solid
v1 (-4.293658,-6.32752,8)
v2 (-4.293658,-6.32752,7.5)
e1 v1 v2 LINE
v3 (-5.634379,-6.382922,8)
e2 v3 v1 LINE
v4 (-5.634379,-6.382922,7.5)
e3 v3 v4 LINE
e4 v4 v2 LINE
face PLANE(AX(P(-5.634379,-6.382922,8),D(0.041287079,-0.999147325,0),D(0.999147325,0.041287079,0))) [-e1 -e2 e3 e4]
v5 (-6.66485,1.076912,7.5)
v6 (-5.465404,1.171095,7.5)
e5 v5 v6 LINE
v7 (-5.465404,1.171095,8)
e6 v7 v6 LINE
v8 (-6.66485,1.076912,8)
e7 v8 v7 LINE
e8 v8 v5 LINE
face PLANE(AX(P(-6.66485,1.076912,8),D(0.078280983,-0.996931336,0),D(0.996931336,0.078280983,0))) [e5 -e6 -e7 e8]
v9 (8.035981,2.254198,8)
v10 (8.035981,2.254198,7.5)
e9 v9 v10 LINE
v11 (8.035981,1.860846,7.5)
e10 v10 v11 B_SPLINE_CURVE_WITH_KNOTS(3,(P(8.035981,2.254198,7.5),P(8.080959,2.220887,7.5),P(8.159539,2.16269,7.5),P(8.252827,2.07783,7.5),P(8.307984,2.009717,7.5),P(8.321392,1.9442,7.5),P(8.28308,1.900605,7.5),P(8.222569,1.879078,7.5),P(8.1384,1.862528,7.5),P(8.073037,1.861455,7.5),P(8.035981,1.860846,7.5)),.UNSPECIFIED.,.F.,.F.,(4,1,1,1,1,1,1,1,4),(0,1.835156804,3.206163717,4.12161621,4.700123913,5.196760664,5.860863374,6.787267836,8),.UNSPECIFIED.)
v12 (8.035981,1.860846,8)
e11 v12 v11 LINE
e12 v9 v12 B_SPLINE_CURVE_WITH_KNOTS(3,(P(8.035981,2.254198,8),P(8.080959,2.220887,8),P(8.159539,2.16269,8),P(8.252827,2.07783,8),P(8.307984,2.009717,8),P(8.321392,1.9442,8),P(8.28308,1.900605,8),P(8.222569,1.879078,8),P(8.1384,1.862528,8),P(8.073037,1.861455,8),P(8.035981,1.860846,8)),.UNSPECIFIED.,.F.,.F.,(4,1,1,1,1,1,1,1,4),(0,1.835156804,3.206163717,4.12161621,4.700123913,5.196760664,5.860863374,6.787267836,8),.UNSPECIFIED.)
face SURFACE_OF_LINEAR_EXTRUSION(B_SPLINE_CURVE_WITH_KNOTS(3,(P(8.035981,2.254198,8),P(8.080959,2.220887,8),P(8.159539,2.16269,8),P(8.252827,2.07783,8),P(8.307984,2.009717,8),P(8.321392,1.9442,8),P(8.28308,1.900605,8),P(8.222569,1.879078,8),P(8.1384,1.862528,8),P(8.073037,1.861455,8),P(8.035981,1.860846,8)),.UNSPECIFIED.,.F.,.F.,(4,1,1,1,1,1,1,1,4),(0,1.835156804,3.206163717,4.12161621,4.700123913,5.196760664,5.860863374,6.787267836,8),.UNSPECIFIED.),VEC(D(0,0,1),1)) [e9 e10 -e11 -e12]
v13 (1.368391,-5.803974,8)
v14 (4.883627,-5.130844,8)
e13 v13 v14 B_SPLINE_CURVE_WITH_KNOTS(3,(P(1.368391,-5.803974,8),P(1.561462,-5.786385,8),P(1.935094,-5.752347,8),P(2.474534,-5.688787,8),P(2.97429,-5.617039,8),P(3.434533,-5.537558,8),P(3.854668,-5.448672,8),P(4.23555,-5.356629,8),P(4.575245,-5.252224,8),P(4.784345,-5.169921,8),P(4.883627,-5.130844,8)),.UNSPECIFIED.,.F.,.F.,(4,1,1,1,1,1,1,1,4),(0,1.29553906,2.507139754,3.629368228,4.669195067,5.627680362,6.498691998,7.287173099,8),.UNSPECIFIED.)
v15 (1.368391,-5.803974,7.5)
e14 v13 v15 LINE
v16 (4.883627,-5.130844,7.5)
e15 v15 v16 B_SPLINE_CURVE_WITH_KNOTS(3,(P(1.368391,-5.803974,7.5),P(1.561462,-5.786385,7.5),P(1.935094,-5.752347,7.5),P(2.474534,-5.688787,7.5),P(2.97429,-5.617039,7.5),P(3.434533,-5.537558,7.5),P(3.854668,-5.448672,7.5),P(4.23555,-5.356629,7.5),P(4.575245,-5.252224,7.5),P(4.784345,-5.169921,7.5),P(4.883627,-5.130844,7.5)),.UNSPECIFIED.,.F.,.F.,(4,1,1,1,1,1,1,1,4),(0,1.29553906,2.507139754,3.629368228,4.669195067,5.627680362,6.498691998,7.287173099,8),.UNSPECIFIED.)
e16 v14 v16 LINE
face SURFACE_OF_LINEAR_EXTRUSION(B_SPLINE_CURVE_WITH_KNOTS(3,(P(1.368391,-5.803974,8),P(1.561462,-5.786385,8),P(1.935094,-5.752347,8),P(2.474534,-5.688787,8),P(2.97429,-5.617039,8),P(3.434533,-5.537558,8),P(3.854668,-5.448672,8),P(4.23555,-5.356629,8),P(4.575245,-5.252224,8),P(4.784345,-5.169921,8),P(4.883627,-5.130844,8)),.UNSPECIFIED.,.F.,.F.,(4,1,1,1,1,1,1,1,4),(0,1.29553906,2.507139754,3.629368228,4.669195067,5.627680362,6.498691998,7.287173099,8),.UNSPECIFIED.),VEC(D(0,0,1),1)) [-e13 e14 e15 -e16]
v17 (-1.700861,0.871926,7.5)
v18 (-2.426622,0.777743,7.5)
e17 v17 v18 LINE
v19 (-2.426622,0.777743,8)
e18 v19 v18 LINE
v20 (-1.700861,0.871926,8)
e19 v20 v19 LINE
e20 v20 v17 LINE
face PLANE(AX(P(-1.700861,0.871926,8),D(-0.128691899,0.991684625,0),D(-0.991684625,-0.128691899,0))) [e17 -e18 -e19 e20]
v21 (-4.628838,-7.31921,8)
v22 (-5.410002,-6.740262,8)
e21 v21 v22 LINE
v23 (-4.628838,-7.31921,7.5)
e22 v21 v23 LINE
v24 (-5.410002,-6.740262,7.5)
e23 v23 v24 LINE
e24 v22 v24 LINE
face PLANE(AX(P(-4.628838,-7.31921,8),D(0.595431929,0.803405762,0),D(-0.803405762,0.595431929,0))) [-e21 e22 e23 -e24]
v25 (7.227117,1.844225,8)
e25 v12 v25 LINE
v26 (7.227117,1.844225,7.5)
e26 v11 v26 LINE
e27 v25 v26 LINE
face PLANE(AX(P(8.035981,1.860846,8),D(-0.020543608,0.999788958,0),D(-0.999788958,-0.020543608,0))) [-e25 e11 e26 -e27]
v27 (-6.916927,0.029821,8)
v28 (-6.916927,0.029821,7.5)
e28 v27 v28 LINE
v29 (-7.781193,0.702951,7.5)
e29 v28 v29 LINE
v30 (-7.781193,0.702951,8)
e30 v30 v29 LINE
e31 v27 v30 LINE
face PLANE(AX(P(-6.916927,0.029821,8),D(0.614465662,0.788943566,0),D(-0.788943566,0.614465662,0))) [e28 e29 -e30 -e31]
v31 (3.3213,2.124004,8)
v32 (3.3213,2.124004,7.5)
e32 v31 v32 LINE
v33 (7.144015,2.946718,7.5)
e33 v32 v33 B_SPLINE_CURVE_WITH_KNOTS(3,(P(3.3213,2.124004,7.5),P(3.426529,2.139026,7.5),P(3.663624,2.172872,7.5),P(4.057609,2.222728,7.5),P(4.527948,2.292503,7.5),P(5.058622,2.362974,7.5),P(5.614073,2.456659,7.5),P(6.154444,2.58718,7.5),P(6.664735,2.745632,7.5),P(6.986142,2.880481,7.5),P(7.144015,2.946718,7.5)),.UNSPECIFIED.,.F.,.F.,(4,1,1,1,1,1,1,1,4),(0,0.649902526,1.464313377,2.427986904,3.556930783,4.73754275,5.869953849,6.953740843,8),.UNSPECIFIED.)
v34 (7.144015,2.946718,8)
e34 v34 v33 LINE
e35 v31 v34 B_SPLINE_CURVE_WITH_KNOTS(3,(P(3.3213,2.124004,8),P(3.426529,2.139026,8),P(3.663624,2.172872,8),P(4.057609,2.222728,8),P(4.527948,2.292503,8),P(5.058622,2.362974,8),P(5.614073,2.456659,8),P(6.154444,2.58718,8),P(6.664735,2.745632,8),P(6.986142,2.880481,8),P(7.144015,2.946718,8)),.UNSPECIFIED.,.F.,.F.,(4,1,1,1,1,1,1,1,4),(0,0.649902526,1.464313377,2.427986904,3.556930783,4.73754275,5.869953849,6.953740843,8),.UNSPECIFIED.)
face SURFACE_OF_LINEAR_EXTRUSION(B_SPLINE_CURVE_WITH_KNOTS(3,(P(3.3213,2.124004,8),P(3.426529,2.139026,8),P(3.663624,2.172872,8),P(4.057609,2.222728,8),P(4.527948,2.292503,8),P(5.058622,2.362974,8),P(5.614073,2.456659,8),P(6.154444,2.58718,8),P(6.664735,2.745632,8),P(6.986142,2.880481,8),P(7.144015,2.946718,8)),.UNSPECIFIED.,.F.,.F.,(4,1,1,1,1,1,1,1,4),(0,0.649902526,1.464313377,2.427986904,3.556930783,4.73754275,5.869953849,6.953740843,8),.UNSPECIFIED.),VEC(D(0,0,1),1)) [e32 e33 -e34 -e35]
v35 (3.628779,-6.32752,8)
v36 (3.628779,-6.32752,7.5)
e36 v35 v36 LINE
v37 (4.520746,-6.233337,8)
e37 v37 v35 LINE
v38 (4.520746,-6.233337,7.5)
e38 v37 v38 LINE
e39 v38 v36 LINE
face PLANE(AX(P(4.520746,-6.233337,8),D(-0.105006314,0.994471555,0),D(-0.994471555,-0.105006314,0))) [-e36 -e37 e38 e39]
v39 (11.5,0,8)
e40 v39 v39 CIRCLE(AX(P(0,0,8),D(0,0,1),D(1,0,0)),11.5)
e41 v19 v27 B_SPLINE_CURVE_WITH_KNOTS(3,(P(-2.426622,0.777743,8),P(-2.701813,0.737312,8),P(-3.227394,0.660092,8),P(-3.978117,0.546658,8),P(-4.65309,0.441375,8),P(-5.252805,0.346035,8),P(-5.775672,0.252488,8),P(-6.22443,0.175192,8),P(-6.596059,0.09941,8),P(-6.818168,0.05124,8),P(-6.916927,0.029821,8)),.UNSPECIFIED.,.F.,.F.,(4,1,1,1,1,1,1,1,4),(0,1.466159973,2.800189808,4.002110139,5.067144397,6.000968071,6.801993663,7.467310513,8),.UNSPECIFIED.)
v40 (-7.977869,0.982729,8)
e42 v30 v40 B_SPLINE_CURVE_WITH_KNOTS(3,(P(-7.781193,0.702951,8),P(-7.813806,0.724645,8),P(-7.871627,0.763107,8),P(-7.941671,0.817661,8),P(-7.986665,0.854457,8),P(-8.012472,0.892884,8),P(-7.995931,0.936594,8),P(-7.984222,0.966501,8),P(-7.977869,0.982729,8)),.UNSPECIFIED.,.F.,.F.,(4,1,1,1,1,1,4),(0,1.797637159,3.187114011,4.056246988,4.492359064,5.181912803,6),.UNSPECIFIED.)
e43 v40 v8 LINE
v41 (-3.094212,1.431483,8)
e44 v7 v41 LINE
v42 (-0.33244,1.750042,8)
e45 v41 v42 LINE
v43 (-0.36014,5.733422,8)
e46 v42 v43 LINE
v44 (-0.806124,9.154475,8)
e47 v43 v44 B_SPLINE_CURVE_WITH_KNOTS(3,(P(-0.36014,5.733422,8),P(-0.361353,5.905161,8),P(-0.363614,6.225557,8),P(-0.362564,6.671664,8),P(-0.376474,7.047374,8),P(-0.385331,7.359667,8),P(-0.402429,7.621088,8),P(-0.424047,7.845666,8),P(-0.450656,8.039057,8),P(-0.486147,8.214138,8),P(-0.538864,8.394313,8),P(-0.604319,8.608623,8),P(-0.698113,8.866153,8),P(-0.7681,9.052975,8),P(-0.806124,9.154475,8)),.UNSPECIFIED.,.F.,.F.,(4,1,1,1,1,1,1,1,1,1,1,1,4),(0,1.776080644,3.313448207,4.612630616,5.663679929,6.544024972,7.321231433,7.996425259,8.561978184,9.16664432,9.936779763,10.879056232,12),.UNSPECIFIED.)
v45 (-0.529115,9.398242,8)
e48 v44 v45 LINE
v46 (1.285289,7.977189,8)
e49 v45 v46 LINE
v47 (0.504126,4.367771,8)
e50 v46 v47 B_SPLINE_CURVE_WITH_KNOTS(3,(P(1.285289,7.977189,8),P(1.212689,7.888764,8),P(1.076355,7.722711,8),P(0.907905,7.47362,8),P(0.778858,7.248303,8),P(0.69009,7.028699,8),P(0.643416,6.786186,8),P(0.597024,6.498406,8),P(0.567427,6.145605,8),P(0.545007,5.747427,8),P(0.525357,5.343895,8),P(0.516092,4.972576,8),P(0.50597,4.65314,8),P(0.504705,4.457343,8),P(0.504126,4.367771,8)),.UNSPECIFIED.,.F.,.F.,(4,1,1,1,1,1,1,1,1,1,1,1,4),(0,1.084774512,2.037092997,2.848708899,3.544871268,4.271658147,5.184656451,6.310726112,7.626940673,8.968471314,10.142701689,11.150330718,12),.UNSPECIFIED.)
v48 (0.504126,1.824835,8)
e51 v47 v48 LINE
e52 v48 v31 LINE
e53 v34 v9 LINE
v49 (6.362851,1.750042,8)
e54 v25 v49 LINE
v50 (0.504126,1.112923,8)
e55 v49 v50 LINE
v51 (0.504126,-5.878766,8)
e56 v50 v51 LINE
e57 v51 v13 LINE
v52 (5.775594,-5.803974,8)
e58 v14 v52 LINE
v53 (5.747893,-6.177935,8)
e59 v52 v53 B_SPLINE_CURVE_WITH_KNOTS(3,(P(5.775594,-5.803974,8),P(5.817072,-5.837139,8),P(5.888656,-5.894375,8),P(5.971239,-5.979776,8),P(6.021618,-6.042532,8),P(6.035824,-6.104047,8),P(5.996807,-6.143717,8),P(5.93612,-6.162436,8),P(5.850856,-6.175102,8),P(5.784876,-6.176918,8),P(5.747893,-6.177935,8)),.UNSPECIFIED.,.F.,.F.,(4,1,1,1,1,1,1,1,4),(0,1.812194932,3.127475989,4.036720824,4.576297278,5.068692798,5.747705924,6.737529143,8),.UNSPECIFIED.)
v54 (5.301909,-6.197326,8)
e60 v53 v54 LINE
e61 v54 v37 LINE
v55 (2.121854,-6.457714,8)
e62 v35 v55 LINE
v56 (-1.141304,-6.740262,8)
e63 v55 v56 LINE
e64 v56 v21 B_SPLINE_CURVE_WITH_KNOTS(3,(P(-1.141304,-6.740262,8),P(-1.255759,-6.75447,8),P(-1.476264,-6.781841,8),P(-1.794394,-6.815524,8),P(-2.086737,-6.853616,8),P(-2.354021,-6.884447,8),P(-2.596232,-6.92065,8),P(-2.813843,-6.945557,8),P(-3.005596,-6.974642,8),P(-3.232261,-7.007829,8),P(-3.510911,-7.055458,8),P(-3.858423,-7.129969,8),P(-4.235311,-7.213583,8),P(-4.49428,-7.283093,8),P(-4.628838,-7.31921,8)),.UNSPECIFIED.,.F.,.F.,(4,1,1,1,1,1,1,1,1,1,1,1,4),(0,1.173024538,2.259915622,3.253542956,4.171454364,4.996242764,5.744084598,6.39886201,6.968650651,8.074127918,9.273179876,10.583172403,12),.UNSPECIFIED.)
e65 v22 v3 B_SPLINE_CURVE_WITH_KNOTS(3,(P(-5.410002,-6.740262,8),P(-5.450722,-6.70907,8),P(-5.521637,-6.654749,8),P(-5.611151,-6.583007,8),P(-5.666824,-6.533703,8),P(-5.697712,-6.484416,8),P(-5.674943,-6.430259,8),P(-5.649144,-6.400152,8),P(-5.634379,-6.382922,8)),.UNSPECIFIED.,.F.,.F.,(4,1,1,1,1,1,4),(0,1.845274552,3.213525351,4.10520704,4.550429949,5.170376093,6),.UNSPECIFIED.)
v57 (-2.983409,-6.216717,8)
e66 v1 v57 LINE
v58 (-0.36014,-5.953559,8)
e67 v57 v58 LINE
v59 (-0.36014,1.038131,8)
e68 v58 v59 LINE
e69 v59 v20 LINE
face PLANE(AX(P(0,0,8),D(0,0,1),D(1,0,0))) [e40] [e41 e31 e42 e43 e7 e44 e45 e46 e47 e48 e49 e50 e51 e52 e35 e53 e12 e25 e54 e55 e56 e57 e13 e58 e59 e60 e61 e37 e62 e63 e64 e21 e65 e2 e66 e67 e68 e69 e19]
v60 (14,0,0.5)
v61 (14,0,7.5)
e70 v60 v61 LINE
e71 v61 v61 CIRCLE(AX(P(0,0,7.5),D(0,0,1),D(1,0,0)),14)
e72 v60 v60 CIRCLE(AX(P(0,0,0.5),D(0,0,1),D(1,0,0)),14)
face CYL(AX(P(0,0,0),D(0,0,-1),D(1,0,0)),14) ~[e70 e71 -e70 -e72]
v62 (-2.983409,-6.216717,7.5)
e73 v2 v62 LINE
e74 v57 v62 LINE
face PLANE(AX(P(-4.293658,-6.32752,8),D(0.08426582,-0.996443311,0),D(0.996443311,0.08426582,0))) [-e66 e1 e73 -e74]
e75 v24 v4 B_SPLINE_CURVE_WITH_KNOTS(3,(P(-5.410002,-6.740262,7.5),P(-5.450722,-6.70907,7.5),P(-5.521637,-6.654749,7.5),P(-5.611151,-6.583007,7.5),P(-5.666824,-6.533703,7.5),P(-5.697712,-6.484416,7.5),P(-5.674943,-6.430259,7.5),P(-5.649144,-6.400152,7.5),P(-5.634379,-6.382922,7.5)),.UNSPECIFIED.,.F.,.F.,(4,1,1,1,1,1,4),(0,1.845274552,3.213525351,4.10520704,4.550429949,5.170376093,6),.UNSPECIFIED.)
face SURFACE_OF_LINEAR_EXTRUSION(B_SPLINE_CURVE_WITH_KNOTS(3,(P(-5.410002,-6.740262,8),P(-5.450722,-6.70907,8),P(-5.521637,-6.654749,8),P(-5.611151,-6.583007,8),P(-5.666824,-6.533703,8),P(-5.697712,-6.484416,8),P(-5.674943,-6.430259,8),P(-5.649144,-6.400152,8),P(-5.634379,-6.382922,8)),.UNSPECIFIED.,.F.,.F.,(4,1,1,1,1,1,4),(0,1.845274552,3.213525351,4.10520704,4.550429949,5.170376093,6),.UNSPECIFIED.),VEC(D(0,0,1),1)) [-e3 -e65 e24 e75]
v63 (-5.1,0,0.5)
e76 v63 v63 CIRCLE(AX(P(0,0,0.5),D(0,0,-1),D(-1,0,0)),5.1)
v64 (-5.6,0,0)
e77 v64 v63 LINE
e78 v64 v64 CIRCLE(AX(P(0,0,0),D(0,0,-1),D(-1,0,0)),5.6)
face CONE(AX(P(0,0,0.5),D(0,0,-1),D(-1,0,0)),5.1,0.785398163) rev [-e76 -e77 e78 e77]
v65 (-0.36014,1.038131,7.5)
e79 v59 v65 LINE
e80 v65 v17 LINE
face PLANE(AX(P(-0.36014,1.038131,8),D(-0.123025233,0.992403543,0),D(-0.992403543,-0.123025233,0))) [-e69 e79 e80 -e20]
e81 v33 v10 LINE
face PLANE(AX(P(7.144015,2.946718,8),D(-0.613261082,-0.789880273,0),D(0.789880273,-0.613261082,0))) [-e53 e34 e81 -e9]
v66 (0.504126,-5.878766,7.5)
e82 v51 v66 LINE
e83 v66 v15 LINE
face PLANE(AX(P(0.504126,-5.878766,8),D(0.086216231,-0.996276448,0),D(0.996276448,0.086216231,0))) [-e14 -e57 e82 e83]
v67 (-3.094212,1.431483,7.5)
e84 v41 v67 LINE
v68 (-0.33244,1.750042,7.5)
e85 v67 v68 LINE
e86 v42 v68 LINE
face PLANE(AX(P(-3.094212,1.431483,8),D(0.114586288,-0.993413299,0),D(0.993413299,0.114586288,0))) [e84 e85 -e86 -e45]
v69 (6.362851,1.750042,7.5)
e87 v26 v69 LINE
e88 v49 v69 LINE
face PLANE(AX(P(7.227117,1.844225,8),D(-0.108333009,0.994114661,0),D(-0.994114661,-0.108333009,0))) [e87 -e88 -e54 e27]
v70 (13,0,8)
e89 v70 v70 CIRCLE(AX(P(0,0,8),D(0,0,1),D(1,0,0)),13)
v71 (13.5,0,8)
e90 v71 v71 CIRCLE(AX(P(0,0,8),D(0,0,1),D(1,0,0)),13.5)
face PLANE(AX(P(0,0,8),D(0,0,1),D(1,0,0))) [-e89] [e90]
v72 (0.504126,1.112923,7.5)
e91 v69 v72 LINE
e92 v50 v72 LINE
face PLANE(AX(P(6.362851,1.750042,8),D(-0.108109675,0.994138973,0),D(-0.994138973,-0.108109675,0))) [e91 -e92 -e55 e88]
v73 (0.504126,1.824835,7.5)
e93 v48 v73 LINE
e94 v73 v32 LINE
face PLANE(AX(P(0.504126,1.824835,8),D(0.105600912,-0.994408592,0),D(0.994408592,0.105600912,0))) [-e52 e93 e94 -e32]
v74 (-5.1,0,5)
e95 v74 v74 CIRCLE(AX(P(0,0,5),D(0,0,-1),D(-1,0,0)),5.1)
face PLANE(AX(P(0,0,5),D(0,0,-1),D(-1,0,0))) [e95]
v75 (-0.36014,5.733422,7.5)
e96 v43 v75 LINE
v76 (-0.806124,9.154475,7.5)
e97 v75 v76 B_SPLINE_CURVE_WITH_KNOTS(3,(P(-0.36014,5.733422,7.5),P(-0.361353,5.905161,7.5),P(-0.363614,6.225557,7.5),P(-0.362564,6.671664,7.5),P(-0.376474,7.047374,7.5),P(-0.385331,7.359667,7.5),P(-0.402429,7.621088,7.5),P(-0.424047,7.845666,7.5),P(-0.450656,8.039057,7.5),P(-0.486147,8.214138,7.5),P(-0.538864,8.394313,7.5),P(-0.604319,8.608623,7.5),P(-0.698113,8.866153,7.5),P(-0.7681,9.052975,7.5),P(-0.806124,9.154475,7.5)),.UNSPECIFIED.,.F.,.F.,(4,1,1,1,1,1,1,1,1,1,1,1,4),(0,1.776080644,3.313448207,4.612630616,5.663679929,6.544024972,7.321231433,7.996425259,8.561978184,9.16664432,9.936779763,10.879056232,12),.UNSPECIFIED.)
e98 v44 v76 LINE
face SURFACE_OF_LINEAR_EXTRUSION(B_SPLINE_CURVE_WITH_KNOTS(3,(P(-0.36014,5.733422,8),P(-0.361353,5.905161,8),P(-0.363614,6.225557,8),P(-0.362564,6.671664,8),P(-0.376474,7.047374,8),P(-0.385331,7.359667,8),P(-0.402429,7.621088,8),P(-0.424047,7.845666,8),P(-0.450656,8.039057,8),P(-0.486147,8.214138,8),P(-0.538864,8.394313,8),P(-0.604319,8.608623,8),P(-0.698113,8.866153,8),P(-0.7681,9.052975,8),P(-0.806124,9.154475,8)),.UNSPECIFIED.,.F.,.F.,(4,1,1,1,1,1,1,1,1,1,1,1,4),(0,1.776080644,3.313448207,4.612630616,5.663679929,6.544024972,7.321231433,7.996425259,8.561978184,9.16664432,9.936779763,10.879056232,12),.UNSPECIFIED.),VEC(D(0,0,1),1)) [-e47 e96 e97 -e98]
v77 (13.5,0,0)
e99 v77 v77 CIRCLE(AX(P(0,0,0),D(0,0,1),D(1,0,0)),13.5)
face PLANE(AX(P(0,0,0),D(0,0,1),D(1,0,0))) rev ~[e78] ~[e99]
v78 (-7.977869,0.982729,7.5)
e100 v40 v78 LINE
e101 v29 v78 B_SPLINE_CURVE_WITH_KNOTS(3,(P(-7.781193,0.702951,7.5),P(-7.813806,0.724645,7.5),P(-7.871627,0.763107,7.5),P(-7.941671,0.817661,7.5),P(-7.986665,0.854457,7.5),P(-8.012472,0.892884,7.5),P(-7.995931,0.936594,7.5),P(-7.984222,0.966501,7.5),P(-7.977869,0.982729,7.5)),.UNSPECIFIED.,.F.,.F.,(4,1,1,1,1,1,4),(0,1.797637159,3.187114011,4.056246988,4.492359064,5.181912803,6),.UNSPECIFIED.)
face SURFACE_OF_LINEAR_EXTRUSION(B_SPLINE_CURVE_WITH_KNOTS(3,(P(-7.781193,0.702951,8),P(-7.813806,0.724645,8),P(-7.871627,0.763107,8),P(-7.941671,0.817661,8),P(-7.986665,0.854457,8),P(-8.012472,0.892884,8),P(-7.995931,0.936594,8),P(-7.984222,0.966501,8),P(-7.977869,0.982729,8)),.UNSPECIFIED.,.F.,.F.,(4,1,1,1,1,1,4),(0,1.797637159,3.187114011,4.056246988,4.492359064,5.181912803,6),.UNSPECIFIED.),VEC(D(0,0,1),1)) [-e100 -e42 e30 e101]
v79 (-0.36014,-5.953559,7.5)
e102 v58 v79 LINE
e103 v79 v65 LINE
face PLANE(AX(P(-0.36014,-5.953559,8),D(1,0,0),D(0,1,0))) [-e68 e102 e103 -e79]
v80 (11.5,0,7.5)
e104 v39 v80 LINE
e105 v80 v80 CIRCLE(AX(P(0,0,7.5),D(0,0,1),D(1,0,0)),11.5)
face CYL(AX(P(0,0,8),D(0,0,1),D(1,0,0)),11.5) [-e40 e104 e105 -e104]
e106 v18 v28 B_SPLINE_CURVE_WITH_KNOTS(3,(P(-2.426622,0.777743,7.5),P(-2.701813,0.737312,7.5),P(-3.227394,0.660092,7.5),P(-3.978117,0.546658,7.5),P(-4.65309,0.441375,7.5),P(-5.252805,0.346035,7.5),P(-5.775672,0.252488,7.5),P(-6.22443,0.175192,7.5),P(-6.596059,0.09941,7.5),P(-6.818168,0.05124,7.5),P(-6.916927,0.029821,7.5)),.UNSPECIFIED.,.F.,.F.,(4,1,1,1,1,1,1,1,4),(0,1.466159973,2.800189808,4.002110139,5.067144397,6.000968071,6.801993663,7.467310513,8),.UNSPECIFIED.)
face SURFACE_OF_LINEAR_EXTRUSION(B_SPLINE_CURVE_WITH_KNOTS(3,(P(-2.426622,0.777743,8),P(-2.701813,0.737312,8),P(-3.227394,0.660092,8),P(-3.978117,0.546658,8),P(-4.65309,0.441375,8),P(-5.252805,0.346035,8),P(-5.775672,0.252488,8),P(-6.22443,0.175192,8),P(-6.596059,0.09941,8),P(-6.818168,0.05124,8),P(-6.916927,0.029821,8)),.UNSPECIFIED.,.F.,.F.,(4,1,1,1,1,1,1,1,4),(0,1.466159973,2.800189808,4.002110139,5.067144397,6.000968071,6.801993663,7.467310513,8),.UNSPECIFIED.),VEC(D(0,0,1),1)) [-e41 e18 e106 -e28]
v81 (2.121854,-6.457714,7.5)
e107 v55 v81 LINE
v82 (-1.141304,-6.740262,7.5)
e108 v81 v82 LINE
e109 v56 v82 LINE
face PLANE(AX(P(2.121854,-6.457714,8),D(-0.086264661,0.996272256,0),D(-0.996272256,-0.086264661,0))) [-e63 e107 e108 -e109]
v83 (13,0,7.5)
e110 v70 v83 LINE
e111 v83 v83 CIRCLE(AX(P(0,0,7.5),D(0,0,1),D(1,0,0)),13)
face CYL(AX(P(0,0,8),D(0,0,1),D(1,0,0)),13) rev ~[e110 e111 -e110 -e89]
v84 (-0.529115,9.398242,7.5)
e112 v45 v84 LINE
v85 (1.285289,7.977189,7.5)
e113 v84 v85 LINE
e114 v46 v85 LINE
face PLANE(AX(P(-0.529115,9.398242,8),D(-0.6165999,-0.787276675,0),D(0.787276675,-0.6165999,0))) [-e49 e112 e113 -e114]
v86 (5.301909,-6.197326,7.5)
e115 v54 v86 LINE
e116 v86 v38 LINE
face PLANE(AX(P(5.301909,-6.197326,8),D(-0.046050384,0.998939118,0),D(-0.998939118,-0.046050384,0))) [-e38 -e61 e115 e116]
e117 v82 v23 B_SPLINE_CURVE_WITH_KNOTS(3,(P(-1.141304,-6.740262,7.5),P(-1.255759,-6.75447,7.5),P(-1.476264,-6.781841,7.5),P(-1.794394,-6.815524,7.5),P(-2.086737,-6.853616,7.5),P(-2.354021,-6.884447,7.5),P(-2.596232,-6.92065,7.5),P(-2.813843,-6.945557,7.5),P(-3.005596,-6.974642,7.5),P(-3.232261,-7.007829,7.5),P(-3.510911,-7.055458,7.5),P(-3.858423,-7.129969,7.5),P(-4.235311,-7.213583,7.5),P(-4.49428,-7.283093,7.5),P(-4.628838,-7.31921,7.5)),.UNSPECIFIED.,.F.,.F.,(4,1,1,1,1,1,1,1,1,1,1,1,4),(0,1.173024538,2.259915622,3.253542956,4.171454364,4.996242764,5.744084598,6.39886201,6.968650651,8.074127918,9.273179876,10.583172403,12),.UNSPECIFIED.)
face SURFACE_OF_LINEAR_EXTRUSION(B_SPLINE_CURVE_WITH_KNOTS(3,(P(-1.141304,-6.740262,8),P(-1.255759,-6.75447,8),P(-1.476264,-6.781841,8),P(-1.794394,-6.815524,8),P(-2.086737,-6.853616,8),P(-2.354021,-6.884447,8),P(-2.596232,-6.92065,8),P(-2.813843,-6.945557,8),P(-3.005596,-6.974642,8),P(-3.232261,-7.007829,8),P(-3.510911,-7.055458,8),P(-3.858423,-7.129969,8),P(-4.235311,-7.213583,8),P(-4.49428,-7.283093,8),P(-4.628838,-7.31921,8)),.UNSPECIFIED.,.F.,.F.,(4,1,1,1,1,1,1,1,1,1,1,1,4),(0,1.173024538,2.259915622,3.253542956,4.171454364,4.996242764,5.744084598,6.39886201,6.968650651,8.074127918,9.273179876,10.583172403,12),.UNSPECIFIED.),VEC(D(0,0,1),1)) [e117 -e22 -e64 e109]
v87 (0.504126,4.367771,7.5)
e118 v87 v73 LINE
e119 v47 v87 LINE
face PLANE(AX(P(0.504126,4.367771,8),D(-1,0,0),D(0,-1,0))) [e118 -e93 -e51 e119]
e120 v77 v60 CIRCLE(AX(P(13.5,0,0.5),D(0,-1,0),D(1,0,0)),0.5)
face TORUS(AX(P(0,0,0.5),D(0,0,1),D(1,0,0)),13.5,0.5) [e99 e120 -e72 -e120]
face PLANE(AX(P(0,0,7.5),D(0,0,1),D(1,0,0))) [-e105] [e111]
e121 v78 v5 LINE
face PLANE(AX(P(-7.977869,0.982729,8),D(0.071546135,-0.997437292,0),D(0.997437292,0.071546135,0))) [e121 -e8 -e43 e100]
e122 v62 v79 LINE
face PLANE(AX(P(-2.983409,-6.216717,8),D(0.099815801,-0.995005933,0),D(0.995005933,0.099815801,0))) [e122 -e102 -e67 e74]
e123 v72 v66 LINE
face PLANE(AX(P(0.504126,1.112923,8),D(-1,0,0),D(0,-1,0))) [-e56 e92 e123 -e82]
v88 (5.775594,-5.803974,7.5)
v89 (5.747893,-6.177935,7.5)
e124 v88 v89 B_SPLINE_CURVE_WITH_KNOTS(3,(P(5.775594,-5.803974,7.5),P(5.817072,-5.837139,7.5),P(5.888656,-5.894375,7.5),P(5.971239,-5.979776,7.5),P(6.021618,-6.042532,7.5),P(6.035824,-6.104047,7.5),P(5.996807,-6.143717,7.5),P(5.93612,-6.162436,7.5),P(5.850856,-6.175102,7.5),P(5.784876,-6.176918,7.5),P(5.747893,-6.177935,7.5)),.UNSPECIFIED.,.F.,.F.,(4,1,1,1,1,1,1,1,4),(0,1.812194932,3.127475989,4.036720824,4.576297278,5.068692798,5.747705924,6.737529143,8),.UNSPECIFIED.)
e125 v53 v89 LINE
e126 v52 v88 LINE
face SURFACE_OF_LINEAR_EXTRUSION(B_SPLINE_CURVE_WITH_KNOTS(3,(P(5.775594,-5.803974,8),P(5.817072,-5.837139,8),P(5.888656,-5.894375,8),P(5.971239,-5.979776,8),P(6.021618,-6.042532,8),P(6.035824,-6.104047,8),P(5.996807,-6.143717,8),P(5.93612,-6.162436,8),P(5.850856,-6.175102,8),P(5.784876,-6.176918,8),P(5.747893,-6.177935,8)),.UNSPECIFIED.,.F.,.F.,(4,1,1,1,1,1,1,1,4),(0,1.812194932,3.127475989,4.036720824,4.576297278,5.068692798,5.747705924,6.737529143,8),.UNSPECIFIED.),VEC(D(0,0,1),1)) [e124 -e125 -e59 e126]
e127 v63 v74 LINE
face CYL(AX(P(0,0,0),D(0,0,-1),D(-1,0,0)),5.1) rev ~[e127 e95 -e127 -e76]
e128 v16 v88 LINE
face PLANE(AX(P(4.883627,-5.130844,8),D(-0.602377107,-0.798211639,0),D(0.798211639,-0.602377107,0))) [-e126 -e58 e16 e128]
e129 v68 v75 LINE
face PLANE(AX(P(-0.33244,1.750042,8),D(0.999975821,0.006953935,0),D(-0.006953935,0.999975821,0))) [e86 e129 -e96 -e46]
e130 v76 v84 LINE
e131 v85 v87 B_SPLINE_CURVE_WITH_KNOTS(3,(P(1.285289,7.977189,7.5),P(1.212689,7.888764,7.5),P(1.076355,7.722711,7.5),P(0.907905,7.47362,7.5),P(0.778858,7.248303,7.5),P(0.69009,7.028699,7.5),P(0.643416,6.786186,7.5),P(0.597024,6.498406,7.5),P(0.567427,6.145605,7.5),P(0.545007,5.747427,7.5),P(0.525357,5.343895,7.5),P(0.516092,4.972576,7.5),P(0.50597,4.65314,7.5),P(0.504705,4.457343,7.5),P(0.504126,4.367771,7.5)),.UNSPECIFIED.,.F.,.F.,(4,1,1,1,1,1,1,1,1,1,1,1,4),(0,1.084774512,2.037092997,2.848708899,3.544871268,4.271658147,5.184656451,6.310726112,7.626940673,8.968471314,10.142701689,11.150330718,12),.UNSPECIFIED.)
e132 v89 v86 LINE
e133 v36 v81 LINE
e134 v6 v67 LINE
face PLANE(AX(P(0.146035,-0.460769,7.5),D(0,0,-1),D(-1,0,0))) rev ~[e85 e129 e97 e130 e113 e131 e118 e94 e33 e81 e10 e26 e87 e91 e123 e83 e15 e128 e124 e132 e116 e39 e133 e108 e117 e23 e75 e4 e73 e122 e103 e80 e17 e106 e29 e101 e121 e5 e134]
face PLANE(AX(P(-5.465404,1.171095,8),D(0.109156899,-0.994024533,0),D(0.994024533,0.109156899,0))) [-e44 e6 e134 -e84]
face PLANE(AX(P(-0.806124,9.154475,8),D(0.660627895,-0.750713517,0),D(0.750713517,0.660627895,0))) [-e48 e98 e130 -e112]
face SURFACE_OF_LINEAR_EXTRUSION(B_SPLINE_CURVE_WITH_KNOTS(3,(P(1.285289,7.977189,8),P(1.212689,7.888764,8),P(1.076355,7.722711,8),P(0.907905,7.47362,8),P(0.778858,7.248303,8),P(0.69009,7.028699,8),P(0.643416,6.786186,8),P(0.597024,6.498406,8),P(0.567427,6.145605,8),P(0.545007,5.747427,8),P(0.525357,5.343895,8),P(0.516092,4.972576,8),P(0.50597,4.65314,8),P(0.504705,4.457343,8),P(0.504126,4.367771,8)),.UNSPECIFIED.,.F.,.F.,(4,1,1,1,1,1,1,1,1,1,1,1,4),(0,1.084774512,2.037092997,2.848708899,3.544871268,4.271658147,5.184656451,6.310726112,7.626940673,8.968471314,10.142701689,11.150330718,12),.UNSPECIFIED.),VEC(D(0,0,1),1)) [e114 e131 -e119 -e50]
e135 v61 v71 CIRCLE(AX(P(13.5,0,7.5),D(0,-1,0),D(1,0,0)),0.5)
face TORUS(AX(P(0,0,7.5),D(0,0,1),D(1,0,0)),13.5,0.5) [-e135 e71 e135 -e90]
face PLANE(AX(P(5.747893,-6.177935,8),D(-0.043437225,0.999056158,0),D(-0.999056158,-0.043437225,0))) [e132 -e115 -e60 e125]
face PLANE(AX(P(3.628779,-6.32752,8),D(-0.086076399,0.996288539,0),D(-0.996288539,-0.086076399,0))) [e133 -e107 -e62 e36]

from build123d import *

# Parameters (mm, degrees)
SKETCH_1_R          = 14
EXTRUDE_1_DEPTH     = 8
SKETCH_2_R          = 13
SKETCH_2_R_2        = 11.5
CUT_EXTRUDE_1_DEPTH = 0.5
SKETCH_3_R          = 5.1
CUT_EXTRUDE_2_DEPTH = 5
CHAMFER_1_SIZE      = 0.5
FILLET_1_R          = 0.5
CUT_EXTRUDE_3_DEPTH = 0.5


with BuildPart() as part:
    # 草图1 → 凸台-拉伸1 (new body)
    with BuildSketch(Plane.XY):
        Circle(SKETCH_1_R)
    extrude(amount=EXTRUDE_1_DEPTH)

    # 草图2 → 切除-拉伸1 (cut)
    with BuildSketch(Plane.XY.offset(8)):
        Circle(SKETCH_2_R)
        Circle(SKETCH_2_R_2, mode=Mode.SUBTRACT)
    extrude(amount=-CUT_EXTRUDE_1_DEPTH, mode=Mode.SUBTRACT)

    # 草图3 → 切除-拉伸2 (cut)
    with BuildSketch(Plane(origin=(0, 0, 0), x_dir=(-1, 0, 0), z_dir=(0, 0, -1))):
        Circle(SKETCH_3_R)
    extrude(amount=-CUT_EXTRUDE_2_DEPTH, mode=Mode.SUBTRACT)

    # 倒角1
    chamfer_1_edges = [part.edges().sort_by_distance(p)[0] for p in [
        (5.1, 0, 0),
    ]]
    chamfer(chamfer_1_edges, length=CHAMFER_1_SIZE)

    # 圆角1
    fillet_1_edges = [part.edges().sort_by_distance(p)[0] for p in [
        (-14, 0, 0),
        (-14, 0, 8),
    ]]
    fillet(fillet_1_edges, radius=FILLET_1_R)

    # 草图4 → 切除-拉伸3 (cut)
    with BuildSketch(Plane.XY.offset(8)):
        with BuildLine():
            Line((-0.332439592, 1.750042466), (-0.360140423, 5.733421968))
            add(Edge.make_bspline(
                [(-0.360140423, 5.733421968), (-0.361352645, 5.905161235), (-0.363614161, 6.225557253), (-0.362563714, 6.6716641), (-0.376473853, 7.047374008), (-0.385330649, 7.359666935), (-0.402429288, 7.62108814), (-0.424047197, 7.845666351), (-0.450655997, 8.039057288), (-0.486147264, 8.214138322), (-0.538863863, 8.394313463), (-0.604319105, 8.608623265), (-0.69811297, 8.866152605), (-0.768099985, 9.052974569), (-0.806123802, 9.154474599)],
                knots=[0, 0, 0, 0, 1.776080644, 3.313448207, 4.612630616, 5.663679929, 6.544024972, 7.321231433, 7.996425259, 8.561978184, 9.16664432, 9.936779763, 10.879056232, 12, 12, 12, 12], degree=3))
            Line((-0.806123802, 9.154474599), (-0.529115492, 9.398241912))
            Line((-0.529115492, 9.398241912), (1.28528894, 7.977189281))
            add(Edge.make_bspline(
                [(1.28528894, 7.977189281), (1.212689416, 7.888764213), (1.076355109, 7.72271119), (0.907905181, 7.473619686), (0.778857884, 7.248302871), (0.690090199, 7.028698577), (0.643415827, 6.786186198), (0.597023873, 6.498405776), (0.567426595, 6.145605356), (0.545007238, 5.747427005), (0.525356606, 5.343894899), (0.516092277, 4.972576481), (0.505970295, 4.653140232), (0.504704552, 4.457343357), (0.504125505, 4.367770998)],
                knots=[0, 0, 0, 0, 1.084774512, 2.037092997, 2.848708899, 3.544871268, 4.271658147, 5.184656451, 6.310726112, 7.626940673, 8.968471314, 10.142701689, 11.150330718, 12, 12, 12, 12], degree=3))
            Line((0.504125505, 4.367770998), (0.504125505, 1.82483471))
            Line((0.504125505, 1.82483471), (3.321300021, 2.124003685))
            add(Edge.make_bspline(
                [(3.321300021, 2.124003685), (3.42652928, 2.139025527), (3.663624238, 2.172871655), (4.057608853, 2.222727844), (4.527947814, 2.292502711), (5.058622387, 2.362973897), (5.614072784, 2.456659085), (6.154444434, 2.587180098), (6.664734902, 2.745631608), (6.986142322, 2.880481389), (7.144014702, 2.946718367)],
                knots=[0, 0, 0, 0, 0.649902526, 1.464313377, 2.427986904, 3.556930783, 4.73754275, 5.869953849, 6.953740843, 8, 8, 8, 8], degree=3))
            Line((7.144014702, 2.946718367), (8.035981461, 2.254197591))
            add(Edge.make_bspline(
                [(8.035981461, 2.254197591), (8.080959366, 2.220886663), (8.159539314, 2.162689843), (8.252827302, 2.077830082), (8.307983989, 2.009717031), (8.321391828, 1.94420007), (8.283079852, 1.900605024), (8.222569166, 1.879078168), (8.138400359, 1.862528273), (8.073037414, 1.861454526), (8.035981461, 1.86084579)],
                knots=[0, 0, 0, 0, 1.835156804, 3.206163717, 4.12161621, 4.700123913, 5.196760664, 5.860863374, 6.787267836, 8, 8, 8, 8], degree=3))
            Line((8.035981461, 1.86084579), (7.227117195, 1.844225292))
            Line((7.227117195, 1.844225292), (6.362851267, 1.750042466))
            Line((6.362851267, 1.750042466), (0.504125505, 1.112923353))
            Line((0.504125505, 1.112923353), (0.504125505, -5.878766398))
            Line((0.504125505, -5.878766398), (1.368391433, -5.803974154))
            add(Edge.make_bspline(
                [(1.368391433, -5.803974154), (1.561462147, -5.786385303), (1.935094465, -5.752347189), (2.474534057, -5.688787282), (2.974290009, -5.617039302), (3.434533274, -5.537557716), (3.854668132, -5.448672356), (4.23555044, -5.356628694), (4.575244967, -5.252223674), (4.784345257, -5.169921401), (4.88362689, -5.13084396)],
                knots=[0, 0, 0, 0, 1.29553906, 2.507139754, 3.629368228, 4.669195067, 5.627680362, 6.498691998, 7.287173099, 8, 8, 8, 8], degree=3))
            Line((4.88362689, -5.13084396), (5.775593649, -5.803974154))
            add(Edge.make_bspline(
                [(5.775593649, -5.803974154), (5.817072398, -5.83713927), (5.888656192, -5.894375444), (5.971238583, -5.979775819), (6.02161762, -6.04253168), (6.035824152, -6.104047047), (5.996806703, -6.143717178), (5.936119537, -6.162435734), (5.850855599, -6.175102485), (5.784876091, -6.176917826), (5.747892818, -6.177935373)],
                knots=[0, 0, 0, 0, 1.812194932, 3.127475989, 4.036720824, 4.576297278, 5.068692798, 5.747705924, 6.737529143, 8, 8, 8, 8], degree=3))
            Line((5.747892818, -6.177935373), (5.301909439, -6.197325955))
            Line((5.301909439, -6.197325955), (4.520746004, -6.233337035))
            Line((4.520746004, -6.233337035), (3.628779245, -6.327519861))
            Line((3.628779245, -6.327519861), (2.121854037, -6.457713766))
            Line((2.121854037, -6.457713766), (-1.141303857, -6.740262243))
            add(Edge.make_bspline(
                [(-1.141303857, -6.740262243), (-1.255758527, -6.754469707), (-1.47626363, -6.781841404), (-1.794394083, -6.815523946), (-2.0867365, -6.853615725), (-2.354021003, -6.884446926), (-2.596232118, -6.920650211), (-2.813843434, -6.945556544), (-3.005595903, -6.974642338), (-3.23226146, -7.007828608), (-3.510911328, -7.055457968), (-3.858422546, -7.129968972), (-4.235310728, -7.213583069), (-4.494280475, -7.283092979), (-4.628838483, -7.319209611)],
                knots=[0, 0, 0, 0, 1.173024538, 2.259915622, 3.253542956, 4.171454364, 4.996242764, 5.744084598, 6.39886201, 6.968650651, 8.074127918, 9.273179876, 10.583172403, 12, 12, 12, 12], degree=3))
            Line((-4.628838483, -7.319209611), (-5.410001918, -6.740262243))
            add(Edge.make_bspline(
                [(-5.410001918, -6.740262243), (-5.450722452, -6.709069955), (-5.521636813, -6.654748927), (-5.61115149, -6.583007343), (-5.666823555, -6.533702581), (-5.697711988, -6.484415815), (-5.674943077, -6.430258701), (-5.649144053, -6.4001522), (-5.63437865, -6.382921523)],
                knots=[0, 0, 0, 0, 1.845274552, 3.213525351, 4.10520704, 4.550429949, 5.170376093, 6, 6, 6, 6], degree=3))
            Line((-5.63437865, -6.382921523), (-4.293658428, -6.327519861))
            Line((-4.293658428, -6.327519861), (-2.983409121, -6.216716536))
            Line((-2.983409121, -6.216716536), (-0.360140423, -5.953558642))
            Line((-0.360140423, -5.953558642), (-0.360140423, 1.038131109))
            Line((-0.360140423, 1.038131109), (-1.700860644, 0.871926123))
            Line((-1.700860644, 0.871926123), (-2.426622417, 0.777743297))
            add(Edge.make_bspline(
                [(-2.426622417, 0.777743297), (-2.701812878, 0.737311731), (-3.227393674, 0.660092285), (-3.978116975, 0.546657661), (-4.653090311, 0.441375307), (-5.252805162, 0.34603544), (-5.775671732, 0.252487806), (-6.224429528, 0.175191604), (-6.596059424, 0.099410354), (-6.818167512, 0.051239755), (-6.916927126, 0.02982086)],
                knots=[0, 0, 0, 0, 1.466159973, 2.800189808, 4.002110139, 5.067144397, 6.000968071, 6.801993663, 7.467310513, 8, 8, 8, 8], degree=3))
            Line((-6.916927126, 0.02982086), (-7.781193054, 0.702951054))
            add(Edge.make_bspline(
                [(-7.781193054, 0.702951054), (-7.813806148, 0.724644837), (-7.87162741, 0.763106747), (-7.941670689, 0.817660634), (-7.986665168, 0.854457065), (-8.012472353, 0.892884107), (-7.995931201, 0.936594338), (-7.984222445, 0.966501178), (-7.977868954, 0.982729447)],
                knots=[0, 0, 0, 0, 1.797637159, 3.187114011, 4.056246988, 4.492359064, 5.181912803, 6, 6, 6, 6], degree=3))
            Line((-7.977868954, 0.982729447), (-6.664849564, 1.076912272))
            Line((-6.664849564, 1.076912272), (-5.46540358, 1.171095098))
            Line((-5.46540358, 1.171095098), (-3.094212445, 1.431482909))
            Line((-3.094212445, 1.431482909), (-0.332439592, 1.750042466))
        make_face()
    extrude(amount=-CUT_EXTRUDE_3_DEPTH, mode=Mode.SUBTRACT)


solid = part.part
